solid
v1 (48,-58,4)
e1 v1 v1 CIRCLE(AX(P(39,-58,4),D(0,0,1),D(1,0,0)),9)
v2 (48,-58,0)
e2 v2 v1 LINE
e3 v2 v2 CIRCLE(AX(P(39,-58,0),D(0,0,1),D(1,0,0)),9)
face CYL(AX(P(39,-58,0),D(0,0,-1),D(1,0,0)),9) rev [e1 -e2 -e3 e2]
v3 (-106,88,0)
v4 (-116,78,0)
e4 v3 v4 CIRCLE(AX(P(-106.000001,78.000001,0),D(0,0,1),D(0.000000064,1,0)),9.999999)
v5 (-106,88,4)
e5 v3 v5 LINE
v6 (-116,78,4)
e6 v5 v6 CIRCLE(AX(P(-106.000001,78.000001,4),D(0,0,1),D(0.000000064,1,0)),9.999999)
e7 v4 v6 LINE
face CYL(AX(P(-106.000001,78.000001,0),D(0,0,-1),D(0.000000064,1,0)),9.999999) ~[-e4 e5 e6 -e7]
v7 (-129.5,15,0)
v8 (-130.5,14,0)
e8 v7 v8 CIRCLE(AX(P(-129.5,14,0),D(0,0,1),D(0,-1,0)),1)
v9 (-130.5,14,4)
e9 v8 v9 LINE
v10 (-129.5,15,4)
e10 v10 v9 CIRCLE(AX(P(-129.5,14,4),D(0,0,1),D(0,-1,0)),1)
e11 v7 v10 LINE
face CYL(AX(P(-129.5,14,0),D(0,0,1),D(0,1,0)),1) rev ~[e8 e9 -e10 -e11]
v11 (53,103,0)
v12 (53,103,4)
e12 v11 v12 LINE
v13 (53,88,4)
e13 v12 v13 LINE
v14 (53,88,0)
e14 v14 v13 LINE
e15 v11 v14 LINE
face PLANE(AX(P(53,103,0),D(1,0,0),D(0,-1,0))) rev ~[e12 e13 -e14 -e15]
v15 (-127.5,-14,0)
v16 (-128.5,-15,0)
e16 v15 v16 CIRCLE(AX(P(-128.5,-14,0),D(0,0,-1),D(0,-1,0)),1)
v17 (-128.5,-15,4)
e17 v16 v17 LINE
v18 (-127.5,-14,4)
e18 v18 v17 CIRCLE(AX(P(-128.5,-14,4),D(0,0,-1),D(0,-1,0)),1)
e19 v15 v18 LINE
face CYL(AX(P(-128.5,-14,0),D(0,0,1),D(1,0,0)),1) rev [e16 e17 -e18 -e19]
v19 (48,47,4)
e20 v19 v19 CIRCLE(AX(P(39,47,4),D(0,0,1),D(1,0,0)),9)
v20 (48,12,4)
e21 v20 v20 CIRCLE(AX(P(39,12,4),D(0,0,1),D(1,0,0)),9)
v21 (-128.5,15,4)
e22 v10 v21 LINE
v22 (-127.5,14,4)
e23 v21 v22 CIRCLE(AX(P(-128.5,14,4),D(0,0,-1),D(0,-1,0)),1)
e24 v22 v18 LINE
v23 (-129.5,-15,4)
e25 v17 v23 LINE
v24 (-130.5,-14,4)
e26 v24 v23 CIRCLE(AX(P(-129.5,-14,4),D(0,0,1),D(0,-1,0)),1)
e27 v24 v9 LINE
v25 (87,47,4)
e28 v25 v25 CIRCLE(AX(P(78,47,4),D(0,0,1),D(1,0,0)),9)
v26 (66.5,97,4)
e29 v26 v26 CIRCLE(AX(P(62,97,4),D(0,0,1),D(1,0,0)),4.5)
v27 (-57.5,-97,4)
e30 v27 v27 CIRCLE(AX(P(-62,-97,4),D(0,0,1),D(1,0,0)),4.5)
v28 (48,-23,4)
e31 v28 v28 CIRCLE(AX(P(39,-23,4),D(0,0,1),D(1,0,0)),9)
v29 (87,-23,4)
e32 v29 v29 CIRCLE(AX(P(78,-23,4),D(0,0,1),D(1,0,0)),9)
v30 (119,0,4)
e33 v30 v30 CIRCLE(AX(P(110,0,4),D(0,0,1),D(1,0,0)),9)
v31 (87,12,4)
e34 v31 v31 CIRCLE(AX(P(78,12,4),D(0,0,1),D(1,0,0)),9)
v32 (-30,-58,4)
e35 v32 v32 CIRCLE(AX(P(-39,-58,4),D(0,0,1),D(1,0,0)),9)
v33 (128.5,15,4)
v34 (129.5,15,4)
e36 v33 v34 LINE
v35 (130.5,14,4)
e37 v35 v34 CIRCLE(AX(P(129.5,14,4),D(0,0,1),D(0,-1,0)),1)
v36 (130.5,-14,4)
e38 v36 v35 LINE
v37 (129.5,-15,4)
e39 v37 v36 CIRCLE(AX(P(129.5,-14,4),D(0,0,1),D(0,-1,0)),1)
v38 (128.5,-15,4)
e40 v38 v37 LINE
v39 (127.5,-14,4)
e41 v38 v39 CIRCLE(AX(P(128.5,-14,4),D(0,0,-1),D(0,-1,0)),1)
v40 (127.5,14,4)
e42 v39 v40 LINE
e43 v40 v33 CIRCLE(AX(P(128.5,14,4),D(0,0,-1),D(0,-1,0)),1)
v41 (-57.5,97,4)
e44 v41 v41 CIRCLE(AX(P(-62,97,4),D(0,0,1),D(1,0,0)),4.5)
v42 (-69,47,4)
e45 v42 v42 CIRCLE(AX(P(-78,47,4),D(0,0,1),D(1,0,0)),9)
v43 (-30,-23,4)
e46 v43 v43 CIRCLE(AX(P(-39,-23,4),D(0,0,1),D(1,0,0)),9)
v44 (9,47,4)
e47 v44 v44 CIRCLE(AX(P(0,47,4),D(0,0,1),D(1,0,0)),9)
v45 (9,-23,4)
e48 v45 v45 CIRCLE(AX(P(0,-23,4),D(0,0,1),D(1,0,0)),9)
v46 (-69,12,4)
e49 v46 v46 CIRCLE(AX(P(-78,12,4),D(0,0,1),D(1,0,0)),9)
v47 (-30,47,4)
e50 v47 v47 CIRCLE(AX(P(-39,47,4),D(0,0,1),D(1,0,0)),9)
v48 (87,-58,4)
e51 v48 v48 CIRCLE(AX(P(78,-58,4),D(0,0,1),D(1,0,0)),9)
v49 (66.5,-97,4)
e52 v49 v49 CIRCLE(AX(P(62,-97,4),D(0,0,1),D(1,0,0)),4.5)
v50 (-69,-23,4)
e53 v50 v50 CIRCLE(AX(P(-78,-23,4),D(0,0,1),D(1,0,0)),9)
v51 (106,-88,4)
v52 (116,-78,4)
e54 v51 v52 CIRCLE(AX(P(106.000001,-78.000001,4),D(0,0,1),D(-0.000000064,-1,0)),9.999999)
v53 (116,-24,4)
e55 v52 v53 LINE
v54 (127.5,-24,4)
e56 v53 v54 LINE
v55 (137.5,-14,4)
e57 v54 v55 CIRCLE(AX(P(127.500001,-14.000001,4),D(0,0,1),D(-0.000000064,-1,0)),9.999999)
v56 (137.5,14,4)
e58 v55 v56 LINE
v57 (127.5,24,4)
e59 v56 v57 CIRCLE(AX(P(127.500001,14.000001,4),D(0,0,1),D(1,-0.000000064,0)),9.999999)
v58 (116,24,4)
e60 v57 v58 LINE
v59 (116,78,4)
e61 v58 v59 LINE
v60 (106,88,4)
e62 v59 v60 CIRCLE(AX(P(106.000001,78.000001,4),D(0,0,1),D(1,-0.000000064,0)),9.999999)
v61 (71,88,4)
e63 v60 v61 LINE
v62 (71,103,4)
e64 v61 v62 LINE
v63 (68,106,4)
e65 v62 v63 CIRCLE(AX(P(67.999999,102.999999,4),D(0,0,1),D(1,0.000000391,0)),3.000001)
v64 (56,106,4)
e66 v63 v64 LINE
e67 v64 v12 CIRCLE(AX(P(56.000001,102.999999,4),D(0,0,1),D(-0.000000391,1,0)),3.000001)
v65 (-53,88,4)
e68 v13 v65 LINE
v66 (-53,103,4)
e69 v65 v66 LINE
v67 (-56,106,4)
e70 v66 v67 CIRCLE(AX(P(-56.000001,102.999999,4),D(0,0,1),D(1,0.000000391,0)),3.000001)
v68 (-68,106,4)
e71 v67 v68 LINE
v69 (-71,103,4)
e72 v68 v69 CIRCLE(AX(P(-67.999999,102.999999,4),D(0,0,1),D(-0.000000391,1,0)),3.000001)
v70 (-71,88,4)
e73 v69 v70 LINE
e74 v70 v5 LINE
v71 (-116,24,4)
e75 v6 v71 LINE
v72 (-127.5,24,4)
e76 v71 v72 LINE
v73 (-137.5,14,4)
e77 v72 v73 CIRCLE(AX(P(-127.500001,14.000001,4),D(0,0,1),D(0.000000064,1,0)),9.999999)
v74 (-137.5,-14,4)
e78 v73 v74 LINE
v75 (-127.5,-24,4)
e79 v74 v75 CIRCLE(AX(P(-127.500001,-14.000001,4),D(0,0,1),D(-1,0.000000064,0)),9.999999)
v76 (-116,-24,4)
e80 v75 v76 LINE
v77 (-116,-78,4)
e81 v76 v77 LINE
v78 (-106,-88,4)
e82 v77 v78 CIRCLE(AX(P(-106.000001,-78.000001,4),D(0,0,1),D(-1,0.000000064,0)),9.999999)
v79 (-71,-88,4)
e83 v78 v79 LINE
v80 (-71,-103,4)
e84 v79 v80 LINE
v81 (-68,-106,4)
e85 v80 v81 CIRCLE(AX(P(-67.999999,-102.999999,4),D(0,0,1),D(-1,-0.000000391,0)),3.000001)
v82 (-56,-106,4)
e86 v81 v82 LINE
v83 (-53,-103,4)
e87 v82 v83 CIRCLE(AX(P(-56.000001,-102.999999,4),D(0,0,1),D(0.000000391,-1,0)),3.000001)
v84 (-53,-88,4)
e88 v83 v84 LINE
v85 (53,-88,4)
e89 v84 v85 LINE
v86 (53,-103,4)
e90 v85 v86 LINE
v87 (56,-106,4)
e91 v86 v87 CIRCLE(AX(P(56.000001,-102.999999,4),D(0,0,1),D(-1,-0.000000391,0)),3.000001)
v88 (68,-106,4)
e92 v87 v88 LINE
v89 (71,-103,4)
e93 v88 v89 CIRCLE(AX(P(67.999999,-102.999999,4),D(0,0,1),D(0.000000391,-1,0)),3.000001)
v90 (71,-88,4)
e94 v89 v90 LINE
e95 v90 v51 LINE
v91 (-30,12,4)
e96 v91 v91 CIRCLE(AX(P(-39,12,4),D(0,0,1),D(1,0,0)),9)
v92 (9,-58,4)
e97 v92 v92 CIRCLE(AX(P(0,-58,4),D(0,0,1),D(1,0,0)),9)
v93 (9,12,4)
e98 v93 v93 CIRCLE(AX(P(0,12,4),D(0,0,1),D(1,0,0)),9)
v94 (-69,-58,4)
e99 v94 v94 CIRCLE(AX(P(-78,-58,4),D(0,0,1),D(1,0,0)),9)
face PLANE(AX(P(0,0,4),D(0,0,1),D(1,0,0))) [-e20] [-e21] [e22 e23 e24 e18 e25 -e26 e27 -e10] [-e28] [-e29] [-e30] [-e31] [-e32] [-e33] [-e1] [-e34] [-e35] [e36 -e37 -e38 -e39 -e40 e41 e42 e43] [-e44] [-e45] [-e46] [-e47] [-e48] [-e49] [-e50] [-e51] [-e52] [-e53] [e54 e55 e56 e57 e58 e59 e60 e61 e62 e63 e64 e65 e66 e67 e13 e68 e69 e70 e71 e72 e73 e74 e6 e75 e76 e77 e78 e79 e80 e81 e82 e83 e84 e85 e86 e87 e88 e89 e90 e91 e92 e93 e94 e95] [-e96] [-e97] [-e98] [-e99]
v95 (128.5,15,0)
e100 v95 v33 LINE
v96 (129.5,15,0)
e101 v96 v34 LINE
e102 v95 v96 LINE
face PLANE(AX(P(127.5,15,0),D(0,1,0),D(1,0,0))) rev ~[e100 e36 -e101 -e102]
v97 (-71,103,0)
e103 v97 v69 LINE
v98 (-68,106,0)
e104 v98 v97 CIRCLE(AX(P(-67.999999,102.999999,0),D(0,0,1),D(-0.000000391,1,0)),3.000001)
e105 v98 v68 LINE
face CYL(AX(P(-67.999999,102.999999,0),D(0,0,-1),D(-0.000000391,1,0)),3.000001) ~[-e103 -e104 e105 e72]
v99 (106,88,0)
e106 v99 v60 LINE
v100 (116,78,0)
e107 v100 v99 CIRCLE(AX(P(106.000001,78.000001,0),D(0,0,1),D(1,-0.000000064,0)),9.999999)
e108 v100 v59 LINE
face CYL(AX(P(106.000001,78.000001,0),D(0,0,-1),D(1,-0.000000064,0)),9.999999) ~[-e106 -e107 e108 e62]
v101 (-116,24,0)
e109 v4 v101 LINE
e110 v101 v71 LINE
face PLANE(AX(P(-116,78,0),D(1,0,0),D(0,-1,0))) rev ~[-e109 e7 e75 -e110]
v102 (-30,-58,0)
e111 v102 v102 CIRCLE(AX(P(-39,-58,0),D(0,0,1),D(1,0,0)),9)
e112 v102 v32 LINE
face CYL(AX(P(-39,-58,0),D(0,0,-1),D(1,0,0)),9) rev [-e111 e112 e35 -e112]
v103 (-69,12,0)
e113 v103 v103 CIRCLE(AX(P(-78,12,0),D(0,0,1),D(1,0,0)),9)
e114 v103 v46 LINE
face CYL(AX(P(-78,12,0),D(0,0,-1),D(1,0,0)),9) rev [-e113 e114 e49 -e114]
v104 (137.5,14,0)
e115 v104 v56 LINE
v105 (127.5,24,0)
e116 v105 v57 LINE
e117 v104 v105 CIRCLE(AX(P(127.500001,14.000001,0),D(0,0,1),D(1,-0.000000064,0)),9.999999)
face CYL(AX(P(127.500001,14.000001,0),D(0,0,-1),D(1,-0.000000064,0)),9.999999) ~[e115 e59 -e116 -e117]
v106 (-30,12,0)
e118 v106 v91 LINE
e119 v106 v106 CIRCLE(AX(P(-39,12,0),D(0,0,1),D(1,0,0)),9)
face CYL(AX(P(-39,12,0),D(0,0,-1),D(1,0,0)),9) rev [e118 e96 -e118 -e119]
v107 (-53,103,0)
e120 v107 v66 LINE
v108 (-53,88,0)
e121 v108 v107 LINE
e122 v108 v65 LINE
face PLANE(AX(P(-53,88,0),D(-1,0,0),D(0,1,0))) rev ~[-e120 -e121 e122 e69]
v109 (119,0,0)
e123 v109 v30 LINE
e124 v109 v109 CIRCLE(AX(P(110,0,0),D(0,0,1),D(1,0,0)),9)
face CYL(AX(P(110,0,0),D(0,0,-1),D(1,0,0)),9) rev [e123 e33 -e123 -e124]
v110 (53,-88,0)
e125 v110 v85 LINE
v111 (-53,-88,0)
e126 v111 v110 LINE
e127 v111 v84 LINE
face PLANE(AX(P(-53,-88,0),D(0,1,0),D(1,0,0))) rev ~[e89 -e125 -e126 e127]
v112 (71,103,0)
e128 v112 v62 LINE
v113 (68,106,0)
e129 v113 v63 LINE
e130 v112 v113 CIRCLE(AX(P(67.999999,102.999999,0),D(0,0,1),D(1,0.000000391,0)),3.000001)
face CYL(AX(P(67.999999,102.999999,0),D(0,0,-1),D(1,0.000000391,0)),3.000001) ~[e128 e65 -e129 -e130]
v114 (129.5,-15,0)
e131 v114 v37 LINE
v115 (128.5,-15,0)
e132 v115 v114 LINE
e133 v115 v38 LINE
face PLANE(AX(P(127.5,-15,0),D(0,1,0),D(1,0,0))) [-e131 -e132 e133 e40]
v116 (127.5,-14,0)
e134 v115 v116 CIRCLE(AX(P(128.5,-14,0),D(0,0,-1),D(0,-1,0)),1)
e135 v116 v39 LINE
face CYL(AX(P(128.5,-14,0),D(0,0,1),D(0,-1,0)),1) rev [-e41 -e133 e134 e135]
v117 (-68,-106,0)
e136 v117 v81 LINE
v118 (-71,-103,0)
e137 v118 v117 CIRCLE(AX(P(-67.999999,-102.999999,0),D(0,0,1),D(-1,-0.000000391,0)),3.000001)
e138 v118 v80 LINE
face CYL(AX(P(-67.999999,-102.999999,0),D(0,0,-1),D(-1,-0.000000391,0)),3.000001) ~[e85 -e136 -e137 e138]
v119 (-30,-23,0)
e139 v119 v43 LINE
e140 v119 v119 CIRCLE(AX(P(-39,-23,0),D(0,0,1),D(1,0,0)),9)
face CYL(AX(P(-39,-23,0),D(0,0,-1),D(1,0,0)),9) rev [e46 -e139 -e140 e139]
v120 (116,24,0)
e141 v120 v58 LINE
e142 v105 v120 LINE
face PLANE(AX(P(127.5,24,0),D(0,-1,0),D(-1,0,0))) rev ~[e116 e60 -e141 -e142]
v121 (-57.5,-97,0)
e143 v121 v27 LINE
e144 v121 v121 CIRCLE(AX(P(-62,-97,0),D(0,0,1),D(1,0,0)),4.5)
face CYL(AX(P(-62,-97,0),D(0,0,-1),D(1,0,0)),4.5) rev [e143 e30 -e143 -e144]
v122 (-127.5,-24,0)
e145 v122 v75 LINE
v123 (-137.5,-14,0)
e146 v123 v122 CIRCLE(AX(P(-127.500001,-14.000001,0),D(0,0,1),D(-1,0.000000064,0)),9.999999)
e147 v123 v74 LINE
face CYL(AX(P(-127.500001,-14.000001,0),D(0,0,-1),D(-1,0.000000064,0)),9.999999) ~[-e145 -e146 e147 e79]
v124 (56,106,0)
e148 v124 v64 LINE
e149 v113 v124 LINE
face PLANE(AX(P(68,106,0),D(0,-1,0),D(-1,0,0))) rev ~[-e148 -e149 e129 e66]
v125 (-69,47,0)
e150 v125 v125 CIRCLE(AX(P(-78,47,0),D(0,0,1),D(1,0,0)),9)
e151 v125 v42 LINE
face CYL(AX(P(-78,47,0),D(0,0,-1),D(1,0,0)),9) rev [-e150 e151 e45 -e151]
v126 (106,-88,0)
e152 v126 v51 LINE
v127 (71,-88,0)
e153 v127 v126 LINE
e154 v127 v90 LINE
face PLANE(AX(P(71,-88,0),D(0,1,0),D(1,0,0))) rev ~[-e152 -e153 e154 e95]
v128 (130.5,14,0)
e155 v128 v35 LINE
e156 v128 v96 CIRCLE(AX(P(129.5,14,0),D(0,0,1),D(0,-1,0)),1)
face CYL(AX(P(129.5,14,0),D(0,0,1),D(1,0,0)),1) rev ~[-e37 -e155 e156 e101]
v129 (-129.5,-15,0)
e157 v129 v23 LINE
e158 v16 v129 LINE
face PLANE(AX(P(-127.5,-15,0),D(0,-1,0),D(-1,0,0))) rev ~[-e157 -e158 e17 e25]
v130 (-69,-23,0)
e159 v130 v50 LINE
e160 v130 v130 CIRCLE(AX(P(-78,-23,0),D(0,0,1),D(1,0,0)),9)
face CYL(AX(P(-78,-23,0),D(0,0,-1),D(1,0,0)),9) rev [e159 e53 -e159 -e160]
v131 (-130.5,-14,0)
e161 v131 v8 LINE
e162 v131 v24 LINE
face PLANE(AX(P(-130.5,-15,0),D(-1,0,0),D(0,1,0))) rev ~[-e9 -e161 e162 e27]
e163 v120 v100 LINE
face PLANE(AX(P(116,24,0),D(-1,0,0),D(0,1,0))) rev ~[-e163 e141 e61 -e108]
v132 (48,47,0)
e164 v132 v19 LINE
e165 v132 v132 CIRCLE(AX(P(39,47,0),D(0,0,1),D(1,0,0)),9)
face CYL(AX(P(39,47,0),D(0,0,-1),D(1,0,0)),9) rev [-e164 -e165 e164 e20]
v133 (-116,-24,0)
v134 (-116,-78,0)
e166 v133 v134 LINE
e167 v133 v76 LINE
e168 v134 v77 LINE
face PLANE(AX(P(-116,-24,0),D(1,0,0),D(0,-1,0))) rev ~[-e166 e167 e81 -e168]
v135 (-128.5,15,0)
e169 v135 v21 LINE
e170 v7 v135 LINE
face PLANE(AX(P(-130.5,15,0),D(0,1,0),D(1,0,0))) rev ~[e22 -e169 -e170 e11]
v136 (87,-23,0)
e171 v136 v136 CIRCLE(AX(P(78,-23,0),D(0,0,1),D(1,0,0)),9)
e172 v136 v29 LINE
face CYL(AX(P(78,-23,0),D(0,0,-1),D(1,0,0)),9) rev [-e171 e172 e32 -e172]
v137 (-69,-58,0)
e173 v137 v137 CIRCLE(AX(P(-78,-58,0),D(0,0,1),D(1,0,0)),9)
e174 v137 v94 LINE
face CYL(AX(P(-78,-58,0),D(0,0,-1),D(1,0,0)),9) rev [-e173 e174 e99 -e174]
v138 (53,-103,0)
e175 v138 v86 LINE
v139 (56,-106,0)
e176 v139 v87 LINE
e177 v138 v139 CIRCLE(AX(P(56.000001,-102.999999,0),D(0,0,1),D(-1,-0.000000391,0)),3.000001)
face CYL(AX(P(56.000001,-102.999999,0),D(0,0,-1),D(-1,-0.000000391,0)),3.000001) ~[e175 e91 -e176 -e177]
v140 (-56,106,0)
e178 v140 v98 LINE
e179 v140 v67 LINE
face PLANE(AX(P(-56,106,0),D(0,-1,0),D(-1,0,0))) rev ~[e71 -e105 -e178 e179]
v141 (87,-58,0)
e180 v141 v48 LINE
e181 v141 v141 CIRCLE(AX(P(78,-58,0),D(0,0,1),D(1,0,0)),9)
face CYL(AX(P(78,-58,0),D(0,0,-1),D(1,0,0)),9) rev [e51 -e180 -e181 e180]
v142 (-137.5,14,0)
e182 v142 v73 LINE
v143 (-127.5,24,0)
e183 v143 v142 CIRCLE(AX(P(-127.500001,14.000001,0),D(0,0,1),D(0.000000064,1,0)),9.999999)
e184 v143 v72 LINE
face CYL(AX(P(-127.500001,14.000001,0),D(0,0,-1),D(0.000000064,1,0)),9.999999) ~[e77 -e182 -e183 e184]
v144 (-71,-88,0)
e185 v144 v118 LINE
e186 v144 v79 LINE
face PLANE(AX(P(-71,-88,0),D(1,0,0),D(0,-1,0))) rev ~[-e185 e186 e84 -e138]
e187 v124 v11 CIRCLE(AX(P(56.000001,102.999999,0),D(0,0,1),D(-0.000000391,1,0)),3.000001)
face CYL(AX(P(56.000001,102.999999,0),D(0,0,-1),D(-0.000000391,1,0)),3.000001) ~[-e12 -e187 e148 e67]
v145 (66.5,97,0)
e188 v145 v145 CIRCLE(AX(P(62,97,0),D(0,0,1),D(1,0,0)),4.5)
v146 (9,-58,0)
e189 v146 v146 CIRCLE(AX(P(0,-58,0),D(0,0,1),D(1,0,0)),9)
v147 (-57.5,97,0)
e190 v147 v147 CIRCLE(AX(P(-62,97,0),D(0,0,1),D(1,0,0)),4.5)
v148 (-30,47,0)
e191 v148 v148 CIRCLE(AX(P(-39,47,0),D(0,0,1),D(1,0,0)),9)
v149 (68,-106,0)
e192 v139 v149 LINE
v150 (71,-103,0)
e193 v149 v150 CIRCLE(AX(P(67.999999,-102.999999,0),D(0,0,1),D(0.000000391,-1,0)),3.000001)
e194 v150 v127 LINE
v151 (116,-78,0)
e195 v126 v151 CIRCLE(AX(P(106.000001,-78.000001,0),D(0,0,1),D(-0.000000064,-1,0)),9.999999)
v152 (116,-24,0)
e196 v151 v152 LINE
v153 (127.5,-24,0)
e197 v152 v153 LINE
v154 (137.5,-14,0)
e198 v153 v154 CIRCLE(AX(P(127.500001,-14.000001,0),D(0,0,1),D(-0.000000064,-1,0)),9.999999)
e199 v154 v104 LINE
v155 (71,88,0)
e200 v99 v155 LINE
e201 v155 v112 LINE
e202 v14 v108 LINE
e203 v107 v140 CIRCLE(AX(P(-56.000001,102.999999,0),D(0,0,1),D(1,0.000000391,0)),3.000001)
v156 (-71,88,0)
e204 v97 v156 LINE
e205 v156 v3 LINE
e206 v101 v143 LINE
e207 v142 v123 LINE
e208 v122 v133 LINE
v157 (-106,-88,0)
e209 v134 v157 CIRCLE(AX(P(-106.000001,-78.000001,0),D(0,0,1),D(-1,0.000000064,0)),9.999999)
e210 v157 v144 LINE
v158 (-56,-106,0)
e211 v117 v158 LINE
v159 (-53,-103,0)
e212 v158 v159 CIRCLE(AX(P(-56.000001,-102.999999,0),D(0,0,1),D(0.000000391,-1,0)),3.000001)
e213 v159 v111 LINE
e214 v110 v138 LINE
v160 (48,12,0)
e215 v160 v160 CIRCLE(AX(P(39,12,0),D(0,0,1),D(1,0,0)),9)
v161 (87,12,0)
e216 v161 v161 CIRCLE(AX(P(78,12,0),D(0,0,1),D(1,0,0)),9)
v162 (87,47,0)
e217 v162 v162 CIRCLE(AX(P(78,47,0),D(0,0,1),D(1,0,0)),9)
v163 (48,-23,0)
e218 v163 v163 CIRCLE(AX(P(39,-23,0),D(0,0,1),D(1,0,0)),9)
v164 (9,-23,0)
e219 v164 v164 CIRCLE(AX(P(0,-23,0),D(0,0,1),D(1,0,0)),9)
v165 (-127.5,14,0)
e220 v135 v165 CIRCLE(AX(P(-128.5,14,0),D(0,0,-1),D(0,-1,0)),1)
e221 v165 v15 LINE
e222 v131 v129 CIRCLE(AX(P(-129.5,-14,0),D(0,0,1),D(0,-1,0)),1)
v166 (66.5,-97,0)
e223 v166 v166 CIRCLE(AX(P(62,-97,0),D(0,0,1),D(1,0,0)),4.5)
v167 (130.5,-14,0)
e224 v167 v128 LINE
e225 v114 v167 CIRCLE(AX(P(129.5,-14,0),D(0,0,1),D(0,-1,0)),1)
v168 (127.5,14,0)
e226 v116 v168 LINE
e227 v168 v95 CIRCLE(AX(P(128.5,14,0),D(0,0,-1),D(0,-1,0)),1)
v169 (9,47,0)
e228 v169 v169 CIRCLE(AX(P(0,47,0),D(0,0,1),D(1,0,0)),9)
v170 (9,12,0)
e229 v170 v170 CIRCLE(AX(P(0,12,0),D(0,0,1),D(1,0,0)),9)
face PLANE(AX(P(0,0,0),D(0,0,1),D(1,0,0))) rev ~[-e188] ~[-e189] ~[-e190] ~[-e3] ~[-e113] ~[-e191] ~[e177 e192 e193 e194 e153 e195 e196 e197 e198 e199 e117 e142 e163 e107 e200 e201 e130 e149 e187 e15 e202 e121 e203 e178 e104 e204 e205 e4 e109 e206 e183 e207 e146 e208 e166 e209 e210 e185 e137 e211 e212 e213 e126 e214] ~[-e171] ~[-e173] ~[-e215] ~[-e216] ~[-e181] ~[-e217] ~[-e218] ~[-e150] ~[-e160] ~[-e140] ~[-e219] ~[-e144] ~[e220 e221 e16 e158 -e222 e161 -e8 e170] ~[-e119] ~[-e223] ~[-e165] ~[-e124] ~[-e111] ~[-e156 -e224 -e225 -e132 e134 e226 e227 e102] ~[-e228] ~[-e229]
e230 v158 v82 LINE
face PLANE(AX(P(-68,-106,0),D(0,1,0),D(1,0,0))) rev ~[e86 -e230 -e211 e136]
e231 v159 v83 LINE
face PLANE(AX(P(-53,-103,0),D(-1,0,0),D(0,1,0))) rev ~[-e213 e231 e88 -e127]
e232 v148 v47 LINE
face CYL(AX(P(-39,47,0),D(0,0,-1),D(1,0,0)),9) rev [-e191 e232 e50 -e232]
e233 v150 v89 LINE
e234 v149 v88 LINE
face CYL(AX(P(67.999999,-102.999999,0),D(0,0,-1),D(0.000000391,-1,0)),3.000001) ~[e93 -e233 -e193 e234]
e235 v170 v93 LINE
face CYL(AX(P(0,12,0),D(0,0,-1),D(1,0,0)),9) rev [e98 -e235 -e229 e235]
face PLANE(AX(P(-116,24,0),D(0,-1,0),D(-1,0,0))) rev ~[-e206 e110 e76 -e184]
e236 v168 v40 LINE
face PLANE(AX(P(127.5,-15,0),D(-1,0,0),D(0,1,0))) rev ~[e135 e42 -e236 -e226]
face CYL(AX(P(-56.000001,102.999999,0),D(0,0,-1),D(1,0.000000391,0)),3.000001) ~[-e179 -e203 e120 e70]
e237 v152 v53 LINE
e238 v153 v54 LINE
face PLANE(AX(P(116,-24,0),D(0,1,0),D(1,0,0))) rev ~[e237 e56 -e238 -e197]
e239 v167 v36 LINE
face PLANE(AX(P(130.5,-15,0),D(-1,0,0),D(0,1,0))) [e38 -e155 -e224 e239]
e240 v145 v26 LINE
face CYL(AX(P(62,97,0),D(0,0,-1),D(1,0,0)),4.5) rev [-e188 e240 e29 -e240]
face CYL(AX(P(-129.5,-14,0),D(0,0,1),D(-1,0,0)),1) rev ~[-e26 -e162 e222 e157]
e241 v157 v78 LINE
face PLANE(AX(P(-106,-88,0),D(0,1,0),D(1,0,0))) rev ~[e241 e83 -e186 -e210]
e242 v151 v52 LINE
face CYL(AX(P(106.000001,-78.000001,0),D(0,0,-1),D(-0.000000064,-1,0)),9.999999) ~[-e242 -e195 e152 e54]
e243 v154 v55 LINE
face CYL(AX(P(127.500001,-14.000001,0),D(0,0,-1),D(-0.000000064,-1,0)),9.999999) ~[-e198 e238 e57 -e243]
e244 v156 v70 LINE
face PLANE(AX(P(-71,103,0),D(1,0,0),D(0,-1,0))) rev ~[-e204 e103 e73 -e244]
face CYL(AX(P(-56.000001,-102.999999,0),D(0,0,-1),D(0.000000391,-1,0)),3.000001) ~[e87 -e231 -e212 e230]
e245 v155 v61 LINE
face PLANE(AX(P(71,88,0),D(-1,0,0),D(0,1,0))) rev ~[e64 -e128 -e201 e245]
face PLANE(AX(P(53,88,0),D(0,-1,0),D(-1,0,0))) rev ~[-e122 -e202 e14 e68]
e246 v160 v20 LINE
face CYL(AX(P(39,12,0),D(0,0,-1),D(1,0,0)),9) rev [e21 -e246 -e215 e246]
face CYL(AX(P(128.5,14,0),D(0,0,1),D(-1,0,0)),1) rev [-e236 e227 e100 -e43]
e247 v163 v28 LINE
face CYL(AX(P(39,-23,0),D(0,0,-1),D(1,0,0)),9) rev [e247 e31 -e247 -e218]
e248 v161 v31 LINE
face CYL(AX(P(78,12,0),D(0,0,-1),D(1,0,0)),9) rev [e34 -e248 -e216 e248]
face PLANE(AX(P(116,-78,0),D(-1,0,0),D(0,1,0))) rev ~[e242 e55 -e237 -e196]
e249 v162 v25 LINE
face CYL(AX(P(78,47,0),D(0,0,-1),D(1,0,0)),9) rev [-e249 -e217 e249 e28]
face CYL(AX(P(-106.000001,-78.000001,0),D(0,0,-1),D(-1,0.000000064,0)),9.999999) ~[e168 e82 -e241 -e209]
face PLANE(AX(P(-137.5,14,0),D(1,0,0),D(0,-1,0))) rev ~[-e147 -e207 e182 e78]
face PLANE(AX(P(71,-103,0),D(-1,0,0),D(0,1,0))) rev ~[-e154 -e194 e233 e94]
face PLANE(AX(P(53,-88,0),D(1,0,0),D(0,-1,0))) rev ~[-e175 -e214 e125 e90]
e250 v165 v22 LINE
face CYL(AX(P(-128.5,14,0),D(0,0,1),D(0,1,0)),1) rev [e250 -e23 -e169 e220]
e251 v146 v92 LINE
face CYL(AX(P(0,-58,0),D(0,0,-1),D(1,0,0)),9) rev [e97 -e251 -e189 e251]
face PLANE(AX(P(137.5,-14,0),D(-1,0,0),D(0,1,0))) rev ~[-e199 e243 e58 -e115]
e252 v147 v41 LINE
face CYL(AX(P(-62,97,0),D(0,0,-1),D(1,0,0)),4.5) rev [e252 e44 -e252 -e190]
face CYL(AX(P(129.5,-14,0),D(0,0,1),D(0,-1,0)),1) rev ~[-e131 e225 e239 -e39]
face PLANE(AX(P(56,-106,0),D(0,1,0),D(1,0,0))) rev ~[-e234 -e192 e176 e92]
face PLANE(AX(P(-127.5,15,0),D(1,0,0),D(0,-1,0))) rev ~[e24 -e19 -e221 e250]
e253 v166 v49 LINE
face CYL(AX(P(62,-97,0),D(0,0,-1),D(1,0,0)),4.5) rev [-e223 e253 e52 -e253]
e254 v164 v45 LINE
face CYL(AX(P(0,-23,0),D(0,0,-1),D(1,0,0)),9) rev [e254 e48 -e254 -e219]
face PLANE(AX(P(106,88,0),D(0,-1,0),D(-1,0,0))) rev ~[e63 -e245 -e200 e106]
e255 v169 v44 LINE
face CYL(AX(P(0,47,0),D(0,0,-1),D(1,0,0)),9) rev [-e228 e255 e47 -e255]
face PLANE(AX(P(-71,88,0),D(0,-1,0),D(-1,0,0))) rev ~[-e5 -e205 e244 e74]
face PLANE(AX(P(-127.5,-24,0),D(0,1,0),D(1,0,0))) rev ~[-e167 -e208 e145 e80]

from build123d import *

# Parameters (mm, degrees)
F0_R     = 9
F0_R_2   = 4.5
F0_W     = 3
F0_H     = 30
F1_DEPTH = 4
F2_R     = 1
F3_R     = 1
F4_R     = 1
F5_R     = 1


with BuildPart() as f1:
    # F0 (on Top) → F1 (new body)
    with BuildSketch(Plane.XY):
        with BuildLine():
            Line((71, -88), (106, -88))
            ThreePointArc((106, -88), (113.071068, -85.071068), (116, -78))
            Line((116, -78), (116, -24))
            Line((116, -24), (127.5, -24))
            ThreePointArc((127.5, -24), (134.571068, -21.071068), (137.5, -14))
            Line((137.5, -14), (137.5, 14))
            ThreePointArc((137.5, 14), (134.571068, 21.071068), (127.5, 24))
            Line((127.5, 24), (116, 24))
            Line((116, 24), (116, 78))
            ThreePointArc((116, 78), (113.071068, 85.071068), (106, 88))
            Line((106, 88), (71, 88))
            Line((71, 88), (71, 103))
            ThreePointArc((71, 103), (70.12132, 105.12132), (68, 106))
            Line((68, 106), (56, 106))
            ThreePointArc((56, 106), (53.87868, 105.12132), (53, 103))
            Line((53, 103), (53, 88))
            Line((53, 88), (-53, 88))
            Line((-53, 88), (-53, 103))
            ThreePointArc((-53, 103), (-53.87868, 105.12132), (-56, 106))
            Line((-56, 106), (-68, 106))
            ThreePointArc((-68, 106), (-70.12132, 105.12132), (-71, 103))
            Line((-71, 103), (-71, 88))
            Line((-71, 88), (-106, 88))
            ThreePointArc((-106, 88), (-113.071068, 85.071068), (-116, 78))
            Line((-116, 78), (-116, 24))
            Line((-116, 24), (-127.5, 24))
            ThreePointArc((-127.5, 24), (-134.571068, 21.071068), (-137.5, 14))
            Line((-137.5, 14), (-137.5, -14))
            ThreePointArc((-137.5, -14), (-134.571068, -21.071068), (-127.5, -24))
            Line((-127.5, -24), (-116, -24))
            Line((-116, -24), (-116, -78))
            ThreePointArc((-116, -78), (-113.071068, -85.071068), (-106, -88))
            Line((-106, -88), (-71, -88))
            Line((-71, -88), (-71, -103))
            ThreePointArc((-71, -103), (-70.12132, -105.12132), (-68, -106))
            Line((-68, -106), (-56, -106))
            ThreePointArc((-56, -106), (-53.87868, -105.12132), (-53, -103))
            Line((-53, -103), (-53, -88))
            Line((-53, -88), (53, -88))
            Line((53, -88), (53, -103))
            ThreePointArc((53, -103), (53.87868, -105.12132), (56, -106))
            Line((56, -106), (68, -106))
            ThreePointArc((68, -106), (70.12132, -105.12132), (71, -103))
            Line((71, -103), (71, -88))
        make_face()
        with Locations((-78, -58)):
            Circle(F0_R, mode=Mode.SUBTRACT)
        with Locations((-62, -97)):
            Circle(F0_R_2, mode=Mode.SUBTRACT)
        with Locations((-39, -58)):
            Circle(F0_R, mode=Mode.SUBTRACT)
        with Locations((-78, -23)):
            Circle(F0_R, mode=Mode.SUBTRACT)
        with Locations((-39, -23)):
            Circle(F0_R, mode=Mode.SUBTRACT)
        with Locations((62, -97)):
            Circle(F0_R_2, mode=Mode.SUBTRACT)
        with Locations((0, -58)):
            Circle(F0_R, mode=Mode.SUBTRACT)
        with Locations((39, -58)):
            Circle(F0_R, mode=Mode.SUBTRACT)
        with Locations((78, -58)):
            Circle(F0_R, mode=Mode.SUBTRACT)
        with Locations((0, -23)):
            Circle(F0_R, mode=Mode.SUBTRACT)
        with Locations((39, -23)):
            Circle(F0_R, mode=Mode.SUBTRACT)
        with Locations((78, -23)):
            Circle(F0_R, mode=Mode.SUBTRACT)
        Polygon((-127.5, 15), (-127.5, 0), (-127.5, -15), (-130.5, -15), (-130.5, 0), (-130.5, 15), align=None, mode=Mode.SUBTRACT)
        with Locations((-78, 12)):
            Circle(F0_R, mode=Mode.SUBTRACT)
        with Locations((-78, 47)):
            Circle(F0_R, mode=Mode.SUBTRACT)
        with Locations((-39, 12)):
            Circle(F0_R, mode=Mode.SUBTRACT)
        with Locations((-39, 47)):
            Circle(F0_R, mode=Mode.SUBTRACT)
        with Locations((-62, 97)):
            Circle(F0_R_2, mode=Mode.SUBTRACT)
        with Locations((0, 12)):
            Circle(F0_R, mode=Mode.SUBTRACT)
        with Locations((39, 12)):
            Circle(F0_R, mode=Mode.SUBTRACT)
        with Locations((0, 47)):
            Circle(F0_R, mode=Mode.SUBTRACT)
        with Locations((39, 47)):
            Circle(F0_R, mode=Mode.SUBTRACT)
        with Locations((78, 12)):
            Circle(F0_R, mode=Mode.SUBTRACT)
        with Locations((110, 0)):
            Circle(F0_R, mode=Mode.SUBTRACT)
        with Locations((129, 0)):
            Rectangle(F0_W, F0_H, mode=Mode.SUBTRACT)
        with Locations((78, 47)):
            Circle(F0_R, mode=Mode.SUBTRACT)
        with Locations((62, 97)):
            Circle(F0_R_2, mode=Mode.SUBTRACT)
    extrude(amount=F1_DEPTH)

    # F2
    f2_edges = [f1.edges().sort_by_distance(p)[0] for p in [
        (127.5, -15, 2),
        (130.5, -15, 2),
    ]]
    fillet(f2_edges, radius=F2_R)

    # F3
    f3_edges = [f1.edges().sort_by_distance(p)[0] for p in [
        (127.5, 15, 2),
        (130.5, 15, 2),
    ]]
    fillet(f3_edges, radius=F3_R)

    # F4
    f4_edges = [f1.edges().sort_by_distance(p)[0] for p in [
        (-130.5, 15, 2),
        (-127.5, 15, 2),
    ]]
    fillet(f4_edges, radius=F4_R)

    # F5
    f5_edges = [f1.edges().sort_by_distance(p)[0] for p in [
        (-130.5, -15, 2),
        (-127.5, -15, 2),
    ]]
    fillet(f5_edges, radius=F5_R)


solid = f1.part
